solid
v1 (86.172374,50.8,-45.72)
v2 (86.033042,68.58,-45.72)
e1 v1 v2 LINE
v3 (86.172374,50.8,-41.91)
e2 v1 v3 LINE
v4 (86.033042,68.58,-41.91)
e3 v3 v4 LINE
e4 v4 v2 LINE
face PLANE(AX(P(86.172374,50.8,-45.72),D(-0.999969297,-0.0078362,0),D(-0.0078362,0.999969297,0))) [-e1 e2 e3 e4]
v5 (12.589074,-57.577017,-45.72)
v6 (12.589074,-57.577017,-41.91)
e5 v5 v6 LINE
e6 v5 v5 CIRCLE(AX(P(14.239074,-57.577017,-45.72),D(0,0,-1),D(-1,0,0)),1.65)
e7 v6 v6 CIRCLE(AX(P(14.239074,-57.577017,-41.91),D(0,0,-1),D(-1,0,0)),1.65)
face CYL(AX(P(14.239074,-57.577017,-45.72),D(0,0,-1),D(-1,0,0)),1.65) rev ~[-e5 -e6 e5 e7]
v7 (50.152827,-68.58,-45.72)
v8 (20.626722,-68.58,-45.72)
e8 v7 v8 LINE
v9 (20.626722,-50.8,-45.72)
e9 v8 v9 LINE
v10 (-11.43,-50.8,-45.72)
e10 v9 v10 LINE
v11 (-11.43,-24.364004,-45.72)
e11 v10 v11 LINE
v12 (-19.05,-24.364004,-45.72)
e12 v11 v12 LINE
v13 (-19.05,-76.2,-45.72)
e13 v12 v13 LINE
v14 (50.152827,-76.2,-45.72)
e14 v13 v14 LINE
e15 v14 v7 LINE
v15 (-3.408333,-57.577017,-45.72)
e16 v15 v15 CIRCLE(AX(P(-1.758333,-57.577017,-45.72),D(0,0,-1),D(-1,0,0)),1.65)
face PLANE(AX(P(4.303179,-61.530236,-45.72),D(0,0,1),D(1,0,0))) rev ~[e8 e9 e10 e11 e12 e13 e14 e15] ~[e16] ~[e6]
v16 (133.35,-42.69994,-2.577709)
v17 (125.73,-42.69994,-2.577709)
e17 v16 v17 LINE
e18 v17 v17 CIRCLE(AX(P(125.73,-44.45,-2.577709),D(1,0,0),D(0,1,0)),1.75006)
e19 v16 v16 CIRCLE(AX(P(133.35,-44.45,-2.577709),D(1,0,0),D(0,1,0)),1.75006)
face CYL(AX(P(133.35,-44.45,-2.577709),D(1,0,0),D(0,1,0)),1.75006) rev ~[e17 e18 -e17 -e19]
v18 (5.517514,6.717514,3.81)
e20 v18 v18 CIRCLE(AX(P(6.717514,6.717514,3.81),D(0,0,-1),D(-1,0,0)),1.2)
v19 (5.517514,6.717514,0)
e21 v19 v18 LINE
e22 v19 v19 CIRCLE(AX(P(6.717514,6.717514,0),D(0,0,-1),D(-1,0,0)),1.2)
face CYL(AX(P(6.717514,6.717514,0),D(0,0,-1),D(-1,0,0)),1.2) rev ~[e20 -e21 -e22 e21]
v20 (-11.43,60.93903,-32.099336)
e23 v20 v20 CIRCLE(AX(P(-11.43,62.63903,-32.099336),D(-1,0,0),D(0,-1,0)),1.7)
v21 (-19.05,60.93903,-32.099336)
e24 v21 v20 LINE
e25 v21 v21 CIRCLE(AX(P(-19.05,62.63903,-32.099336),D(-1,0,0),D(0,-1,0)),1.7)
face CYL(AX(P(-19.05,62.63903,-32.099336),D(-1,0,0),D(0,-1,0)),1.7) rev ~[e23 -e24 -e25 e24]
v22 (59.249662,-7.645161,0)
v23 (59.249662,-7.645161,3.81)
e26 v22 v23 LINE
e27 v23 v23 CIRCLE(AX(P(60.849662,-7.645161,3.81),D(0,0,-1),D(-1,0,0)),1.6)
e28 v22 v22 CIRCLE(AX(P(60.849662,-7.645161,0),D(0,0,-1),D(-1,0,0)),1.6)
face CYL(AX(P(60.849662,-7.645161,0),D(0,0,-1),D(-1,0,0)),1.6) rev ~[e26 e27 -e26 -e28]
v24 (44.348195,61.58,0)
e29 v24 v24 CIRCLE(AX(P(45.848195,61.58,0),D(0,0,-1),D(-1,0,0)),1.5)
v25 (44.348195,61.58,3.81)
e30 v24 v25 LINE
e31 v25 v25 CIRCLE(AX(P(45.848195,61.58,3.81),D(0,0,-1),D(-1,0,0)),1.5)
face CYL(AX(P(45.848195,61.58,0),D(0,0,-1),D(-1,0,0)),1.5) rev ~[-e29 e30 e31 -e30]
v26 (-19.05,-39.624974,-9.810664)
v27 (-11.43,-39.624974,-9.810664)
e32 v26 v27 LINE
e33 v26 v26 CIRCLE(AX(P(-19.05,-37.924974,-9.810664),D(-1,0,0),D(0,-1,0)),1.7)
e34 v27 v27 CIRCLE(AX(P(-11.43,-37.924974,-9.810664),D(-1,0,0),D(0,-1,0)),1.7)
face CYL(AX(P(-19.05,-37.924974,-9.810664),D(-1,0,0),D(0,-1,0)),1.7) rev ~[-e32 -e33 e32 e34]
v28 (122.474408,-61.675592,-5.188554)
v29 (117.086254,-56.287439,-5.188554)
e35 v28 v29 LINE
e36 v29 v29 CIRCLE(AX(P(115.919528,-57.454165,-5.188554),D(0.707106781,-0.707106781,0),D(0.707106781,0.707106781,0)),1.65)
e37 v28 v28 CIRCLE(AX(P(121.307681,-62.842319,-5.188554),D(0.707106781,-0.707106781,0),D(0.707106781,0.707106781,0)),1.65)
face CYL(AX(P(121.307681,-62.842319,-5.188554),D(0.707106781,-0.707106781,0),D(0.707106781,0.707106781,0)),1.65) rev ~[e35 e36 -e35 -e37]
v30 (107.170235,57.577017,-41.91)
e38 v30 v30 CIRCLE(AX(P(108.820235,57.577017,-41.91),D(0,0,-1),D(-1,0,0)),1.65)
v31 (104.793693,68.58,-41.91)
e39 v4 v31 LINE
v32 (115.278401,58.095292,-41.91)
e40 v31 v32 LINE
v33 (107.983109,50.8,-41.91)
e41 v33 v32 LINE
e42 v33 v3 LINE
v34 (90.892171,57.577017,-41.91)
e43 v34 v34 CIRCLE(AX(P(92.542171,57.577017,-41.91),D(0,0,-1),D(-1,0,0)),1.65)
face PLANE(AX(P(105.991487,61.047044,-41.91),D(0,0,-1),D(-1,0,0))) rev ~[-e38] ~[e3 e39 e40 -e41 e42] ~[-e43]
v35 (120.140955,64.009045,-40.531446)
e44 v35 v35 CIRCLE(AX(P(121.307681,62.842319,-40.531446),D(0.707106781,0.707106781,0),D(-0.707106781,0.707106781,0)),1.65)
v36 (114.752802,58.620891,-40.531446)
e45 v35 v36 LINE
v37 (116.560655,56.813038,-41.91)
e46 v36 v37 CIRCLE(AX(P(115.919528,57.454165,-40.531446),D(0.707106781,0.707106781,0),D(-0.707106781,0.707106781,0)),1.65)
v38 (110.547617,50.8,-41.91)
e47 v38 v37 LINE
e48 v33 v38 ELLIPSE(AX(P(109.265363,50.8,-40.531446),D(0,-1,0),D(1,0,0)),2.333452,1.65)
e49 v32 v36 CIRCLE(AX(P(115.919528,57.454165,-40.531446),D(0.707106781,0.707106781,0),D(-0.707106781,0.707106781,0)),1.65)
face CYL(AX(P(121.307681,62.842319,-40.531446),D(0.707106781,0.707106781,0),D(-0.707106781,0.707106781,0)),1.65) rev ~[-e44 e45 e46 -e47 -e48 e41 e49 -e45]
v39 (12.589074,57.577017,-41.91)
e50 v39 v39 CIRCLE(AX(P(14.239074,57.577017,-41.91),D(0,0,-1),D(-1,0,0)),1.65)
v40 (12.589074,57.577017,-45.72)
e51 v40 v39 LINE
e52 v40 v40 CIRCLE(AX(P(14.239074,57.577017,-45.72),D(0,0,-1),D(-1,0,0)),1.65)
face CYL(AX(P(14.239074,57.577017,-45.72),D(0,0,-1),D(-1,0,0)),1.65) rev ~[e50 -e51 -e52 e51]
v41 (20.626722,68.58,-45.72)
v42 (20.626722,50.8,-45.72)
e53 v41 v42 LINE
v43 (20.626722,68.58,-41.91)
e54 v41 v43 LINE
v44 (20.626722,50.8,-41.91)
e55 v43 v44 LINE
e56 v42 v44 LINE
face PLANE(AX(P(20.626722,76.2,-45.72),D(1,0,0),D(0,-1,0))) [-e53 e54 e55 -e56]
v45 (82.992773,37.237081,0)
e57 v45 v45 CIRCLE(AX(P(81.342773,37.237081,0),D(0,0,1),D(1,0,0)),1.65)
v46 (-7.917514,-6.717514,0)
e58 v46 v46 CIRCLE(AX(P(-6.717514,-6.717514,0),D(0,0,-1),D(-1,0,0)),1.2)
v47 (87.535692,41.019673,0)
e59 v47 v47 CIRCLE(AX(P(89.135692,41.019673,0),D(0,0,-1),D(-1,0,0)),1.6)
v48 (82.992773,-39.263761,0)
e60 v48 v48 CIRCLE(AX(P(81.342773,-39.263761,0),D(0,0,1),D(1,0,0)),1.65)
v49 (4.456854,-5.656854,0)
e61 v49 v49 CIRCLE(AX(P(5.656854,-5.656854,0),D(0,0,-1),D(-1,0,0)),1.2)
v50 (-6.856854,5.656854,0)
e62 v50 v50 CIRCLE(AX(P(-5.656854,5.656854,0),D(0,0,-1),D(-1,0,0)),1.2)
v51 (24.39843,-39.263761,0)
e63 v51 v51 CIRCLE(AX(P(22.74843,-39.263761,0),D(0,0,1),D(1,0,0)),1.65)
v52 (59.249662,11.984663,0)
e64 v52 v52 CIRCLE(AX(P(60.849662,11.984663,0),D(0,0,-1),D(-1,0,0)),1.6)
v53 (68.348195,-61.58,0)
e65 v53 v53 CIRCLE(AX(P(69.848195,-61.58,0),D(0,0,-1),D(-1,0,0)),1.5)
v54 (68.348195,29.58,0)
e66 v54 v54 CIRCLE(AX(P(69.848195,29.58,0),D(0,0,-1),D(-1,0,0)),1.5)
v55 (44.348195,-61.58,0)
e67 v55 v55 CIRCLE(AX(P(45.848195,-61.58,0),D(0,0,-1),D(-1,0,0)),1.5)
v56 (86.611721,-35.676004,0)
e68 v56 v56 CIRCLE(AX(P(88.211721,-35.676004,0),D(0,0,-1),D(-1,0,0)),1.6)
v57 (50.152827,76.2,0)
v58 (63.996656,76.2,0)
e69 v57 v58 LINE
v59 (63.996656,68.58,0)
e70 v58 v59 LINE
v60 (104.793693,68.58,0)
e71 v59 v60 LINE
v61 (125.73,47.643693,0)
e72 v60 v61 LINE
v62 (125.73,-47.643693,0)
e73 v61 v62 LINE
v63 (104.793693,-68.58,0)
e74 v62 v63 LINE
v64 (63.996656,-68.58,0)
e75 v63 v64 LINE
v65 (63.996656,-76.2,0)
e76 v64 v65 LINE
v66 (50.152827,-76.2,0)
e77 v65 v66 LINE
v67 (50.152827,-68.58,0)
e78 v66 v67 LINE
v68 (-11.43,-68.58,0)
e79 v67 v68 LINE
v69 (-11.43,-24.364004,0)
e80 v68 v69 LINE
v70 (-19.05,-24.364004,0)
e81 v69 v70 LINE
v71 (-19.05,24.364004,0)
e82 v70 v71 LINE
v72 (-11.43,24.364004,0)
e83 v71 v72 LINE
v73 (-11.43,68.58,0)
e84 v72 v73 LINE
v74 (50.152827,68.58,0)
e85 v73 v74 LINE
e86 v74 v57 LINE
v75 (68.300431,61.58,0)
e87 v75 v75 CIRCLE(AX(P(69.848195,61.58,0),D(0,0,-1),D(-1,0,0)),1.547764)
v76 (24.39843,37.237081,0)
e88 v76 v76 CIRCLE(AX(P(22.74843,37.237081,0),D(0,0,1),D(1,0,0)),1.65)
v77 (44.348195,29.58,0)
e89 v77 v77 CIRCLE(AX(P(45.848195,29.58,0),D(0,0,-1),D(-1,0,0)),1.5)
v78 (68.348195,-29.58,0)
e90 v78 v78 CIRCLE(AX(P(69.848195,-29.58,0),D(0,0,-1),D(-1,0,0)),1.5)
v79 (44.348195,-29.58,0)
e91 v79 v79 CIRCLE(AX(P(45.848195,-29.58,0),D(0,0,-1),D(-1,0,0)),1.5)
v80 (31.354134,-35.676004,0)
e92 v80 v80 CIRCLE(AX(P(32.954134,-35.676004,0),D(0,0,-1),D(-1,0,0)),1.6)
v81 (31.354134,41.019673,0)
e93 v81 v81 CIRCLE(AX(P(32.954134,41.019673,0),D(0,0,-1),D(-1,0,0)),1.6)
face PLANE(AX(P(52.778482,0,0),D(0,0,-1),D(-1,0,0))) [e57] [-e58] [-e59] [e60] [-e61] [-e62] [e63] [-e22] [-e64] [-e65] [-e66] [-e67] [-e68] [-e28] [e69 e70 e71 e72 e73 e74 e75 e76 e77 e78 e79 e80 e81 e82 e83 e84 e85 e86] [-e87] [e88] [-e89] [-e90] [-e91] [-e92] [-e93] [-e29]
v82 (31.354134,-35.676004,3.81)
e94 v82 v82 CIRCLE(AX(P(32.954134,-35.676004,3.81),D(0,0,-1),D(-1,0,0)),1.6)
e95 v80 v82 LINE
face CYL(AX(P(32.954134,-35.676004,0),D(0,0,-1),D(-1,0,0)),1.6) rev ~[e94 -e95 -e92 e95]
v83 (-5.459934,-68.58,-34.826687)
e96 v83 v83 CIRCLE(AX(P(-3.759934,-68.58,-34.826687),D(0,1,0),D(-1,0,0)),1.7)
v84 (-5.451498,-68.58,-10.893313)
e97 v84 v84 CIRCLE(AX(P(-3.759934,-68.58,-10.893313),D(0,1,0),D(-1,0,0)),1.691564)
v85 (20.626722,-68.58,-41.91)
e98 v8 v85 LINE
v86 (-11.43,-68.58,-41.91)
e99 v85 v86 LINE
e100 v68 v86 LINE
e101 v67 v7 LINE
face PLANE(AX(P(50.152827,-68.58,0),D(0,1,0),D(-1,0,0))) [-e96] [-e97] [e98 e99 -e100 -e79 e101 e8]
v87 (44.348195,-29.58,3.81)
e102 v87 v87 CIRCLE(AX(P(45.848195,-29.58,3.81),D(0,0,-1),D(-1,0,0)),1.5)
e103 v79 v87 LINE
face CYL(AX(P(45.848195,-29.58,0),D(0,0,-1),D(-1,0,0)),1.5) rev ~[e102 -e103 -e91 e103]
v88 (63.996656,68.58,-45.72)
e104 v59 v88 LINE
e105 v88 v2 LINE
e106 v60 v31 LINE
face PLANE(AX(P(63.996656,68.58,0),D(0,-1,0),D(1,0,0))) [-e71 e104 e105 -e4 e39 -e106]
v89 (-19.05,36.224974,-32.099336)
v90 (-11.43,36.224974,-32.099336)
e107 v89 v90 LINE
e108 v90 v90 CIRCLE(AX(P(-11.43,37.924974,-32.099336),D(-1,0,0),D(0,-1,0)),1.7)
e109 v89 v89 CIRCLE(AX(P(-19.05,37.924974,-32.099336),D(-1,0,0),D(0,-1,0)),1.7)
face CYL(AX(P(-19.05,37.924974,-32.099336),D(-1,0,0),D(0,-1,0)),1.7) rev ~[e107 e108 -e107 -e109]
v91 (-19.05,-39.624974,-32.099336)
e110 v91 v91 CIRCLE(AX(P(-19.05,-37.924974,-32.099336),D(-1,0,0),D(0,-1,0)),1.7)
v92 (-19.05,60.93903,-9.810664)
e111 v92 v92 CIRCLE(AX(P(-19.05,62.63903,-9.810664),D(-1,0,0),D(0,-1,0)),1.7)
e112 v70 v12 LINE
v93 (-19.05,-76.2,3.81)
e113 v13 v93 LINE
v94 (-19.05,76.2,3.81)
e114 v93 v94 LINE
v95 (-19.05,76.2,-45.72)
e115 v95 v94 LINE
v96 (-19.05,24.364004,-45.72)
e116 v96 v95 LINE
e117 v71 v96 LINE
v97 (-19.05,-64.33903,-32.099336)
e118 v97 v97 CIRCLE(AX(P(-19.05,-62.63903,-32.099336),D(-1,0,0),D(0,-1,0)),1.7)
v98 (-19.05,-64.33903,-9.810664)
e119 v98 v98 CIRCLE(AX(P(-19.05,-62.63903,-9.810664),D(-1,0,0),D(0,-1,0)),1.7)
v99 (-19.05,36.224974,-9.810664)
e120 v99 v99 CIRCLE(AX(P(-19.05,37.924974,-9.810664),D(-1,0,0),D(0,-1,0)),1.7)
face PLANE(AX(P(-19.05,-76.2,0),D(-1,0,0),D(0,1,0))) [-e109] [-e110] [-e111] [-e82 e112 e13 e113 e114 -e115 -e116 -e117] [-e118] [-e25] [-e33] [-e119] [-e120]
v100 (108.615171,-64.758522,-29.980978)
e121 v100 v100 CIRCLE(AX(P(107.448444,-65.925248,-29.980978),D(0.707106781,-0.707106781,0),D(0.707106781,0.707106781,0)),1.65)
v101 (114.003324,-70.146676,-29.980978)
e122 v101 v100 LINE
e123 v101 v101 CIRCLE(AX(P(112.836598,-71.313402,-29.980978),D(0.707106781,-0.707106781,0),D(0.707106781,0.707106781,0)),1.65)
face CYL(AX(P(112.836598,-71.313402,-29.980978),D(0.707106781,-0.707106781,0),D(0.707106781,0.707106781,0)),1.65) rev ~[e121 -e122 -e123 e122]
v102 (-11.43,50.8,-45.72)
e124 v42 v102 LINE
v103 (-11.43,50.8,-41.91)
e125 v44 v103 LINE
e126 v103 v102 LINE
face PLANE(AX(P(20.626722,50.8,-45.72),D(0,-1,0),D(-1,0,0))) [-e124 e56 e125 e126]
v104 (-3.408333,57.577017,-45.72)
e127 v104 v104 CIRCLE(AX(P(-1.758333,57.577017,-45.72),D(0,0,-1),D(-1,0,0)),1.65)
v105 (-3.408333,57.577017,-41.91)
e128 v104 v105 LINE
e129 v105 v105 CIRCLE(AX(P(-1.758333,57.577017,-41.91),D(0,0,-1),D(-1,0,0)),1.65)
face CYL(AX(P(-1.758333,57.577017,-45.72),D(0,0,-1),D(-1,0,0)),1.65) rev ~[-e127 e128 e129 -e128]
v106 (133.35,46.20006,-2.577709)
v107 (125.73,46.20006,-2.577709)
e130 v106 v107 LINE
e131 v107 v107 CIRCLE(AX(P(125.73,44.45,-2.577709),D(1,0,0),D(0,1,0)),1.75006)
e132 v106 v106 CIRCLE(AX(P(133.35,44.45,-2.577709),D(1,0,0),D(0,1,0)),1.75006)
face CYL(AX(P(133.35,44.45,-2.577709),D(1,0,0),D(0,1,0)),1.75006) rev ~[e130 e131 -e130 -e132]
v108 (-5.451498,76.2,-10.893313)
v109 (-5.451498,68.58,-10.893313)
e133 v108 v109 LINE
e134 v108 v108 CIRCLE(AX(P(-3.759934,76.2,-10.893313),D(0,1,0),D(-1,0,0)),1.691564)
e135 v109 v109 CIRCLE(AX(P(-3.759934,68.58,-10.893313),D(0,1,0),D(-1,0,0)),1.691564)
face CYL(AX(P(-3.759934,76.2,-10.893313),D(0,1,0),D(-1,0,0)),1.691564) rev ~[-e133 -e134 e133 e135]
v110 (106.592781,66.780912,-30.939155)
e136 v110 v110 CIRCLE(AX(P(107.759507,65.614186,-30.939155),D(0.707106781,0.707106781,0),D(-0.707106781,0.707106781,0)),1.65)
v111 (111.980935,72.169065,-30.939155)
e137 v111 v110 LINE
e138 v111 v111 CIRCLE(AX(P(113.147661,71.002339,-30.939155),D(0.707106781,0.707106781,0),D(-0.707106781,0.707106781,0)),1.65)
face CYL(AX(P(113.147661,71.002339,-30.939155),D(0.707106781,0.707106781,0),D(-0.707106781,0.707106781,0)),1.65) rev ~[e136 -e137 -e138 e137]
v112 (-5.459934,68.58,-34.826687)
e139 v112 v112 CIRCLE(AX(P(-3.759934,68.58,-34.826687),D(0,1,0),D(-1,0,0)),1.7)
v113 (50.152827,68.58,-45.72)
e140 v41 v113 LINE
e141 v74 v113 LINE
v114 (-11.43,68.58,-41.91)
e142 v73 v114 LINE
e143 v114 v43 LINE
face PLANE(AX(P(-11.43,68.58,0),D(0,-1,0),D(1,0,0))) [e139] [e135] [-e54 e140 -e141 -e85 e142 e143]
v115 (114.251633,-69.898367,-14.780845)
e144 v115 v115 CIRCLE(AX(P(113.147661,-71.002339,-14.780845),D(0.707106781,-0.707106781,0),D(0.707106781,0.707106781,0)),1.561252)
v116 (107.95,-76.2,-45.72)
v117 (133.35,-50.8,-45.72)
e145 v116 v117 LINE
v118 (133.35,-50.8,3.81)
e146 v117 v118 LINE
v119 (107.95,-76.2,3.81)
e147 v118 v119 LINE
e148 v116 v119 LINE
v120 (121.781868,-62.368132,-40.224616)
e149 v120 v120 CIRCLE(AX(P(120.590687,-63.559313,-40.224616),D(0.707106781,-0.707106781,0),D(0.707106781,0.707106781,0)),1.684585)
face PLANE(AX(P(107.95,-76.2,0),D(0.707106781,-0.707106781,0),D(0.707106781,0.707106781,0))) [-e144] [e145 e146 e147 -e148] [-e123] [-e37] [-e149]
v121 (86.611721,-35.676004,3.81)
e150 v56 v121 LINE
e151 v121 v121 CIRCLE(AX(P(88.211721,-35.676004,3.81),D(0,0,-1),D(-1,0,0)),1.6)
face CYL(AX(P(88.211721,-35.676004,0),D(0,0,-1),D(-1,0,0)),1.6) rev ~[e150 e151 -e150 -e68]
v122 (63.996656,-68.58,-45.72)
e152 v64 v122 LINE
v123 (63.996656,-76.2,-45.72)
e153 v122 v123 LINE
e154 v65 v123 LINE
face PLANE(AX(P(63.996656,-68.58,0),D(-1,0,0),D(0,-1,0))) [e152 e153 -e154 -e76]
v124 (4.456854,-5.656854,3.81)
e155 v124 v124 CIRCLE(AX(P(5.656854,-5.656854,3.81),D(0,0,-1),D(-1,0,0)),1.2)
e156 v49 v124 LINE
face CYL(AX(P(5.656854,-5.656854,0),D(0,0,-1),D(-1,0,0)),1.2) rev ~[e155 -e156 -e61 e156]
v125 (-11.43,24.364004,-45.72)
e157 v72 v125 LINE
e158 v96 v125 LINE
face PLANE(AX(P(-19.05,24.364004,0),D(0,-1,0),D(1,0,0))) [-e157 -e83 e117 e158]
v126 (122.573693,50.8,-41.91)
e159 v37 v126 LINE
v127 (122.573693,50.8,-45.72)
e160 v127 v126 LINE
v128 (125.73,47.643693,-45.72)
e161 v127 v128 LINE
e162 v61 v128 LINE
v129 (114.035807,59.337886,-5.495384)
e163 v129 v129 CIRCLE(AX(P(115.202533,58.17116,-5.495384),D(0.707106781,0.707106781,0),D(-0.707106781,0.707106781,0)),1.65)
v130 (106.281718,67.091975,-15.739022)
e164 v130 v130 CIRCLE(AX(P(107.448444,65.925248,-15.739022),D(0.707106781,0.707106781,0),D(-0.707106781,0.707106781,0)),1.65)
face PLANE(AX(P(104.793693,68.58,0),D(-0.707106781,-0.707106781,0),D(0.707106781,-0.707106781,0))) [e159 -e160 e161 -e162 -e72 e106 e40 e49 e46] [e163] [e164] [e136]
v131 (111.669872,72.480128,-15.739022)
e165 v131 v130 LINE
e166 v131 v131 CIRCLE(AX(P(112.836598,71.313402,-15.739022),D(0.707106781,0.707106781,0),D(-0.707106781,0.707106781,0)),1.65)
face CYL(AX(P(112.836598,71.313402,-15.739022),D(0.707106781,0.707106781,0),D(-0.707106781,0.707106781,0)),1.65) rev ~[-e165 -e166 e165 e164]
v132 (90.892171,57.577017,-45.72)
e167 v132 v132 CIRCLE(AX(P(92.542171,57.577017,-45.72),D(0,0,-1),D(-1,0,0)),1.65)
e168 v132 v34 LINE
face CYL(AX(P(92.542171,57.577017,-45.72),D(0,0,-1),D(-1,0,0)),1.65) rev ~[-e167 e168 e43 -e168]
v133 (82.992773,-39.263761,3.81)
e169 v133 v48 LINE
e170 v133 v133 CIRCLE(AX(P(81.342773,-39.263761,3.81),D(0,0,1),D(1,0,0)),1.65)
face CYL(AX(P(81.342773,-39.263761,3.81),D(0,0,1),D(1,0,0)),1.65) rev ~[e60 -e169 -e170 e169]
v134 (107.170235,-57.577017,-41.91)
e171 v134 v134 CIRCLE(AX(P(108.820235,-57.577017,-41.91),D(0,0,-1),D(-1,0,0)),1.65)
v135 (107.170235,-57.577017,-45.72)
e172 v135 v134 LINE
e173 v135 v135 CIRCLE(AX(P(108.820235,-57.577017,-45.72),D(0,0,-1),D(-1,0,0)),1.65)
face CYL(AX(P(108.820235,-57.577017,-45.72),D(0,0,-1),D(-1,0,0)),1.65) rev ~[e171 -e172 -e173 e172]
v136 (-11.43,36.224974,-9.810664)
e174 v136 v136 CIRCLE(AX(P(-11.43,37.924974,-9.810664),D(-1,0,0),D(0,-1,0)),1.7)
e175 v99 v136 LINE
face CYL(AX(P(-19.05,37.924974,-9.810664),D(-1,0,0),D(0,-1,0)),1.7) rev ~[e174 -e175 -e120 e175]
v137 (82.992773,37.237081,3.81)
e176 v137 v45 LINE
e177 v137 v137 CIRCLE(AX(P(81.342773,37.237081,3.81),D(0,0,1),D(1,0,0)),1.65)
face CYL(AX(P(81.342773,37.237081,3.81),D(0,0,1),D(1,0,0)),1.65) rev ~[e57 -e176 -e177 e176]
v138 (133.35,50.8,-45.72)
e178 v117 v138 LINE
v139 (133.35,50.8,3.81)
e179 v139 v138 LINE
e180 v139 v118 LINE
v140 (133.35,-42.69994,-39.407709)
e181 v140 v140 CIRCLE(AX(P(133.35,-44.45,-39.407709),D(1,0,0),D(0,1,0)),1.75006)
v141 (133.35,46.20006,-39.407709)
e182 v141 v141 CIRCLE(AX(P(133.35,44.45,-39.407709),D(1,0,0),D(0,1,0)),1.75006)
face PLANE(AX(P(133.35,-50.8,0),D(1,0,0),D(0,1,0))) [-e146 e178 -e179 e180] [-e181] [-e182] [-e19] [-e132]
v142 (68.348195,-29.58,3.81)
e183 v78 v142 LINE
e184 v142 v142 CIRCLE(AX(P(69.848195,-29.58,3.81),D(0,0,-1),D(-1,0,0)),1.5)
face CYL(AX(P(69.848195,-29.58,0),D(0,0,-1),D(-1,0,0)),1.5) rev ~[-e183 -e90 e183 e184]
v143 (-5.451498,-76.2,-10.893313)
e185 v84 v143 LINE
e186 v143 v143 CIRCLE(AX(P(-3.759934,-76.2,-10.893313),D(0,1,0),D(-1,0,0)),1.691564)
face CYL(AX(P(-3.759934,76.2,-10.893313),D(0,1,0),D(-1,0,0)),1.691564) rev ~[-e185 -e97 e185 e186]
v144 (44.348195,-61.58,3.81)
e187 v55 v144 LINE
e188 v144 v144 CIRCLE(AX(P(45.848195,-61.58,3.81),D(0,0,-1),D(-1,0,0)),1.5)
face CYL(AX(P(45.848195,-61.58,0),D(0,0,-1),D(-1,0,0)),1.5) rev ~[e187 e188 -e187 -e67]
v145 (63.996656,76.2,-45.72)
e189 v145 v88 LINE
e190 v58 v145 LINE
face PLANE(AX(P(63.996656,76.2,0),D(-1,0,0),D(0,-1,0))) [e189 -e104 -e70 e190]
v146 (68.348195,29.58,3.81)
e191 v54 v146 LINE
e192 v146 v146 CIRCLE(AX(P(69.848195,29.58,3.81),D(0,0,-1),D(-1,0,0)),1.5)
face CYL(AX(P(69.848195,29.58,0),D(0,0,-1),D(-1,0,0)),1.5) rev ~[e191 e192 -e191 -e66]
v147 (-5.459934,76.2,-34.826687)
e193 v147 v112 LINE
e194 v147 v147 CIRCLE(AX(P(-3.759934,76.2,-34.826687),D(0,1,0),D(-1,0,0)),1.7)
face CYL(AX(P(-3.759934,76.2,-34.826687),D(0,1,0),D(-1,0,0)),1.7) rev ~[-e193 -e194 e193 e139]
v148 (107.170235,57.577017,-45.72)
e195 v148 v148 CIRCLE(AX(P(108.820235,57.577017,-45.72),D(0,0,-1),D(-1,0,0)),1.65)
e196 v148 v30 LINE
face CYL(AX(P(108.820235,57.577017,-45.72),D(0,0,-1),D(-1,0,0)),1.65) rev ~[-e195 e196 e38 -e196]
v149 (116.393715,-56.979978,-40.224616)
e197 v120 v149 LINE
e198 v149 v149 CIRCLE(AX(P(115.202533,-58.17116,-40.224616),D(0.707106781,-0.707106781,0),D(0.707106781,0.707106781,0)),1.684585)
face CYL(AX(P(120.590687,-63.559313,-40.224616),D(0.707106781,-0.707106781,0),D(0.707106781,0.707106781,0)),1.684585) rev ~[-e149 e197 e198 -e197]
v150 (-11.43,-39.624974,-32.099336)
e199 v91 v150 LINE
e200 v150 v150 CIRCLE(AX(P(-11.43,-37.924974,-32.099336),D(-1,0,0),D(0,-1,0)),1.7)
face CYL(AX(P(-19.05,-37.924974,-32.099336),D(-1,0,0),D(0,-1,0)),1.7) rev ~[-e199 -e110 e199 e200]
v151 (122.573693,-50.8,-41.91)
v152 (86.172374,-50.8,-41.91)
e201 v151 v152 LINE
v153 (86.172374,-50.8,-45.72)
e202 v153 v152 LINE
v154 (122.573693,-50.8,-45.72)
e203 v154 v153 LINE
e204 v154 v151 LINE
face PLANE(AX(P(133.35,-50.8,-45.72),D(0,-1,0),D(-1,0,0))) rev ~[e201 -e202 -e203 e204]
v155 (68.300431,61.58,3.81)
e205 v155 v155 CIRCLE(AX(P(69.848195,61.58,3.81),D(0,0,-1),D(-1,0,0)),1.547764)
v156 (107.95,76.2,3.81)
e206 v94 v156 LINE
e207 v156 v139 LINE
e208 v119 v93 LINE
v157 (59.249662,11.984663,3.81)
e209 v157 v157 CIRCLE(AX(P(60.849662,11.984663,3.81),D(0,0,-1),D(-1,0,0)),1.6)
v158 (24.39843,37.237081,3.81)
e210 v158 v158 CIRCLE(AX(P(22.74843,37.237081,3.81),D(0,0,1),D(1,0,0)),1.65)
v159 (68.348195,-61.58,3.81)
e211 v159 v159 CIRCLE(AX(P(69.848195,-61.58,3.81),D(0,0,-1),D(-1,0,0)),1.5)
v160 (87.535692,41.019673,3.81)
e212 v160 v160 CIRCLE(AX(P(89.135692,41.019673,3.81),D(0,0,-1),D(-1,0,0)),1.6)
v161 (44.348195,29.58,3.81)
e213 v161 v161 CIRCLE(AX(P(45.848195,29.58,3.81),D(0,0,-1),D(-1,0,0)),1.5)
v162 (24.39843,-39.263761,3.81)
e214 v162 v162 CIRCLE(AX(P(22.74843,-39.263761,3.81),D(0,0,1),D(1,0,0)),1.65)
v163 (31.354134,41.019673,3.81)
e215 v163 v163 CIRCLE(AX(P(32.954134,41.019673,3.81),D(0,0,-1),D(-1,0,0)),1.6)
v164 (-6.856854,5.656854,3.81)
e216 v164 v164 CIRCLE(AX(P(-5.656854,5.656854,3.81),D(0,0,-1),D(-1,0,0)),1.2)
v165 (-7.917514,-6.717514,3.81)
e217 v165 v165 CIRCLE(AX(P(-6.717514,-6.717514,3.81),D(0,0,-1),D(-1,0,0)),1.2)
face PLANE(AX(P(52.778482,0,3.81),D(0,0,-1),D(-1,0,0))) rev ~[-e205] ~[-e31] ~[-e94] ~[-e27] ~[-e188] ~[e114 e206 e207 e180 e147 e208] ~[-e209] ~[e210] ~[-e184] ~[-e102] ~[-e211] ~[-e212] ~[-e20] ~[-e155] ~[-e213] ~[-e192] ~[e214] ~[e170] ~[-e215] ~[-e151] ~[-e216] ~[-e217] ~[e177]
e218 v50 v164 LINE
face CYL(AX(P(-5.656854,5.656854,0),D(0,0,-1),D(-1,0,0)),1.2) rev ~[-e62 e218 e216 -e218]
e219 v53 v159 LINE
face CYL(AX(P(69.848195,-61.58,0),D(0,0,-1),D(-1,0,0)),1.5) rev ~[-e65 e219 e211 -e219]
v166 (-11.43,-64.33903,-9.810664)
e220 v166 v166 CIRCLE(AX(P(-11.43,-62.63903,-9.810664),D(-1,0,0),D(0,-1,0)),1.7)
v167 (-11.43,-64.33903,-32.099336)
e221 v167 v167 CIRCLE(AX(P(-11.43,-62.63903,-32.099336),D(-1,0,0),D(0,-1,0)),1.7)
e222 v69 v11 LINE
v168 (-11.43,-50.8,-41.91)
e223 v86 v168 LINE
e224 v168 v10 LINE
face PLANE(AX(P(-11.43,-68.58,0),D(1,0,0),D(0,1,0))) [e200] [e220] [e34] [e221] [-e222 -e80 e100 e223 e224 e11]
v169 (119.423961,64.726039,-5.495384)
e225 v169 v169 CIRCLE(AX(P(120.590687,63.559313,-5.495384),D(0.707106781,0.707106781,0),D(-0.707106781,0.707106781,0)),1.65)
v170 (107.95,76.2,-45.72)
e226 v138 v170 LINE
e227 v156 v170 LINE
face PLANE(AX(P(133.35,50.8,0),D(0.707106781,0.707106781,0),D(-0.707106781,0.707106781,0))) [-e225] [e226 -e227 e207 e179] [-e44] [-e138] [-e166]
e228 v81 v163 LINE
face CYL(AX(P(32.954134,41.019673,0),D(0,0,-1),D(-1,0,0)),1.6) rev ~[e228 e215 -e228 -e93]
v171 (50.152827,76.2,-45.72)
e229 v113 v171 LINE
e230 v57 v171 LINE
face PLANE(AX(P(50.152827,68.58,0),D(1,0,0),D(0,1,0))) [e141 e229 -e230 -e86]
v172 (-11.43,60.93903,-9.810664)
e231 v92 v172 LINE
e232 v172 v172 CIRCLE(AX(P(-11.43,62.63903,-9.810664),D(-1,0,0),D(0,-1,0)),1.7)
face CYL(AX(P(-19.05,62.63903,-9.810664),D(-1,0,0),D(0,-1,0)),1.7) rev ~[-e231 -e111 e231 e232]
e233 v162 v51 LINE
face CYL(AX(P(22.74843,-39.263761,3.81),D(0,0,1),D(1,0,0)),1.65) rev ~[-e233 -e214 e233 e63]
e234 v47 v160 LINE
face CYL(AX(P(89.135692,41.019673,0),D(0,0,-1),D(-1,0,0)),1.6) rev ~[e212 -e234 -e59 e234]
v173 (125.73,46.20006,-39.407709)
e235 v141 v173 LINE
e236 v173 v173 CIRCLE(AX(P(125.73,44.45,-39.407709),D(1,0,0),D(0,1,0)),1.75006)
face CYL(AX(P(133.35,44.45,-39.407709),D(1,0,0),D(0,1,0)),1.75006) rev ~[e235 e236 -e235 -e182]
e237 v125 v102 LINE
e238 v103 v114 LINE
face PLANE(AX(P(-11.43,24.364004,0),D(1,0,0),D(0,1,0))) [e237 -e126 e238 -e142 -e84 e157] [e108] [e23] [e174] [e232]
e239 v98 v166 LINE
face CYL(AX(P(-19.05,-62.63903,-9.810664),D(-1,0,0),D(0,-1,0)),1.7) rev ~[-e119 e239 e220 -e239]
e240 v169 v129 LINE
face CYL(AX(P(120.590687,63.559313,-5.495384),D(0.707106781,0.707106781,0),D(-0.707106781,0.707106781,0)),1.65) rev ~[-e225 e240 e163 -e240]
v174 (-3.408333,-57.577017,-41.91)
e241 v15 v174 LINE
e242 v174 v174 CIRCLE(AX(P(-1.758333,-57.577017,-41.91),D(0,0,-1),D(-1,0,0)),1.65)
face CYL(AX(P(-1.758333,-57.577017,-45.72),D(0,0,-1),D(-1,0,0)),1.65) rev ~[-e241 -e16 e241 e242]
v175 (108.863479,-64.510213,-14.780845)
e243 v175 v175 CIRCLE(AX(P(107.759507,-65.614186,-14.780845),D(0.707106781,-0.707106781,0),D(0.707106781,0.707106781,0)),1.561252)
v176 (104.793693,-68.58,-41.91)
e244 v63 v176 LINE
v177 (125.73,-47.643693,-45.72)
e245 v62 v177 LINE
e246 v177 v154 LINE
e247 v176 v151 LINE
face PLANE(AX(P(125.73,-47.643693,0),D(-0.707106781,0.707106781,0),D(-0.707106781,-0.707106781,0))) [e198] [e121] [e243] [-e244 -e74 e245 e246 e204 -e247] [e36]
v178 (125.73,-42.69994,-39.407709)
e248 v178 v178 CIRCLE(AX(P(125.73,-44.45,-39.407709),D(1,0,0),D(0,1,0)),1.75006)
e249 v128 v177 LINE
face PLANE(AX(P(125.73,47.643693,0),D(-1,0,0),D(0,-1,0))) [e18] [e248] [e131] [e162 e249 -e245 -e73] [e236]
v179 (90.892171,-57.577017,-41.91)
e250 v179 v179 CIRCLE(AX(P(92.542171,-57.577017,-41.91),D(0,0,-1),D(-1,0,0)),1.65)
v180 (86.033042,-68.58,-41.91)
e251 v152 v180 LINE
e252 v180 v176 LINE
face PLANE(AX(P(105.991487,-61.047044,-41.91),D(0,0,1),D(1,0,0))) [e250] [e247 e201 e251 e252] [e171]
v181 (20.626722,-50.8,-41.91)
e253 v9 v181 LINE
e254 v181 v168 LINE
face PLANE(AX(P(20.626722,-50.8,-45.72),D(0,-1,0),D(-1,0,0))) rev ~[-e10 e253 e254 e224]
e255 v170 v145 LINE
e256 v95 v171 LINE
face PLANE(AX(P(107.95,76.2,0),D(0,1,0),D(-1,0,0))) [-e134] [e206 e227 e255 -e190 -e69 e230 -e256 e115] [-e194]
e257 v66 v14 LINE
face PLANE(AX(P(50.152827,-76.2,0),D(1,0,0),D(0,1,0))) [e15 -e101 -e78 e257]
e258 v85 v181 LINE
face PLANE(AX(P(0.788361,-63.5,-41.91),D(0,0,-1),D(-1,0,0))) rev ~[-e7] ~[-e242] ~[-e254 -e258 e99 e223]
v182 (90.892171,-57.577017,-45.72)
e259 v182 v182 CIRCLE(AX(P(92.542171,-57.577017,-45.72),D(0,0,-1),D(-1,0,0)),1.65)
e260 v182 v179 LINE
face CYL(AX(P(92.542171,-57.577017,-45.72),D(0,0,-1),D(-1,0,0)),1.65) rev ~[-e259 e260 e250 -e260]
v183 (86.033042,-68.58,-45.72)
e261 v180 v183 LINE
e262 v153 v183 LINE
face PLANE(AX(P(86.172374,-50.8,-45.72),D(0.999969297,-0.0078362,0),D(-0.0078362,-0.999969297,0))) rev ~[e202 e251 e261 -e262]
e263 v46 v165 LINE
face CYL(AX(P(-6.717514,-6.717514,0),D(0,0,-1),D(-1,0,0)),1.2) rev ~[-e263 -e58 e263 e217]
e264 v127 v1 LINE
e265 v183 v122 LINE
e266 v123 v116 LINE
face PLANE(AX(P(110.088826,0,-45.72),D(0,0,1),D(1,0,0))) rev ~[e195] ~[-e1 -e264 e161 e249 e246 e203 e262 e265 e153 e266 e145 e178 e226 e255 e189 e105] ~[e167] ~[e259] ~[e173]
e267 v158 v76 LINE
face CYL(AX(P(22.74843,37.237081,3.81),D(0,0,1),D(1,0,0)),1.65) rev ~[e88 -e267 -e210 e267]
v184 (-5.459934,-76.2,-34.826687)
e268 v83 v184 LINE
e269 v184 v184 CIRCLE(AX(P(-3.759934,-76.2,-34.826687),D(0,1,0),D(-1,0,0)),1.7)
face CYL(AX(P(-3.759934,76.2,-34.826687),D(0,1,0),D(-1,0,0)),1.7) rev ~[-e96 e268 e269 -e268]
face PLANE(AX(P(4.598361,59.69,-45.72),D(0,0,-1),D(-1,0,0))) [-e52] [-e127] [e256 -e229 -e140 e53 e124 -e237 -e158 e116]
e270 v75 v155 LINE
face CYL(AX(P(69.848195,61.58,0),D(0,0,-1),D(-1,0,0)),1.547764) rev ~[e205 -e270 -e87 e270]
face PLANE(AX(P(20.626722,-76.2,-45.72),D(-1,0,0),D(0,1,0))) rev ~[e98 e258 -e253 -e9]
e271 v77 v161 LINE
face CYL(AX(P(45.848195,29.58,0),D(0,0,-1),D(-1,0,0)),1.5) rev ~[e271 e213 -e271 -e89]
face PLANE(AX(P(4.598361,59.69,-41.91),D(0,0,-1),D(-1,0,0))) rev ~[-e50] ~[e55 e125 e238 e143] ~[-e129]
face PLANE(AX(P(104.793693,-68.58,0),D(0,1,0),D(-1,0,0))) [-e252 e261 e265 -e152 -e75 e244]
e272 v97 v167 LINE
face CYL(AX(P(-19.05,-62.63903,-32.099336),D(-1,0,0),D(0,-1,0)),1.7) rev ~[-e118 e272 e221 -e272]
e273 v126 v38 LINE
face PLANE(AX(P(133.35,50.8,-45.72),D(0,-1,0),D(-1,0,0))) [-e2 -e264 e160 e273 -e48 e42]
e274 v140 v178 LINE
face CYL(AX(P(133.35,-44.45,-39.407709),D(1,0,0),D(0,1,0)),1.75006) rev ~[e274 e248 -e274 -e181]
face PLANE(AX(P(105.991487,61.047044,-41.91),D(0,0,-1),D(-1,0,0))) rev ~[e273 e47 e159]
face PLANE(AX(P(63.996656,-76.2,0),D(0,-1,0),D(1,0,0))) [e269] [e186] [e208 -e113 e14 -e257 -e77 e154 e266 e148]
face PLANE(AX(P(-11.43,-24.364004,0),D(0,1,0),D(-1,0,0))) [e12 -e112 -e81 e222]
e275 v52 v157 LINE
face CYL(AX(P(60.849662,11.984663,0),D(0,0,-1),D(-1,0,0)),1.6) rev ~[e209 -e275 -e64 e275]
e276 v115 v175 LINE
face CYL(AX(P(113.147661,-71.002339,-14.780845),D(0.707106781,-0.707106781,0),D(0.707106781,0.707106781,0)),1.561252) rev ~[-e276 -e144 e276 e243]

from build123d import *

# Parameters (mm, degrees)
BOSS_EXTRUDE1_DEPTH = 3.81
BOSS_EXTRUDE2_DEPTH = 45.72
SKETCH7_R           = 1.2
CUT_EXTRUDE2_DEPTH  = 17.78
SKETCH8_W           = 32.05672174
SKETCH8_H           = 17.78
SKETCH8_W_2         = 39.67672174
SKETCH8_H_2         = 25.4
BOSS_EXTRUDE3_DEPTH = 3.81
SKETCH9_R           = 1.65
CUT_EXTRUDE3_DEPTH  = 3.81
SKETCH10_R          = 1.547764227
SKETCH10_R_2        = 1.5
CUT_EXTRUDE4_DEPTH  = 7.62
CUT_EXTRUDE5_REACH  = 178.416
SKETCH11_R          = 1.7
SKETCH12_R          = 1.699999995
SKETCH12_R_2        = 1.691563864
CUT_EXTRUDE6_DEPTH  = 208.601302742
CUT_EXTRUDE7_REACH  = 208.774
SKETCH13_R          = 1.650000001
CUT_EXTRUDE8_REACH  = 208.774
SKETCH14_R          = 1.684585229
SKETCH14_R_2        = 1.65
SKETCH14_R_3        = 1.561252311
CUT_EXTRUDE9_REACH  = 163.375
SKETCH15_R          = 1.65
CUT_EXTRUDE10_REACH = 178.416
SKETCH16_R          = 1.75006
SKETCH16_R_2        = 1.750059992
CUT_EXTRUDE11_REACH = 162.247
SKETCH17_R          = 1.6
SKETCH17_R_2        = 1.599999975


with BuildPart() as part:
    # Sketch1 → Boss-Extrude1 (new body)
    with BuildSketch(Plane.XY):
        Polygon((133.35, -50.8), (107.95, -76.2), (-19.05, -76.2), (-19.05, 76.2), (107.95, 76.2), (133.35, 50.8), align=None)
    extrude(amount=BOSS_EXTRUDE1_DEPTH)

    # Sketch2 → Boss-Extrude2 (add)
    with BuildSketch(Plane(origin=(0, 0, 0), x_dir=(-1, 0, 0), z_dir=(0, 0, -1))):
        Polygon((-107.95, -76.2), (-133.35, -50.8), (-133.35, 50.8), (-107.95, 76.2), (-63.99665634, 76.2), (-63.99665634, 68.58), (-104.793692655, 68.58), (-125.73, 47.643692655), (-125.73, -47.643692655), (-104.793692655, -68.58), (-63.99665634, -68.58), (-63.99665634, -76.2), align=None)
        Polygon((19.05, 76.2), (19.05, 24.36400377), (11.43, 24.36400377), (11.43, 68.58), (-50.152826914, 68.58), (-50.152826914, 76.2), align=None)
        Polygon((19.05, -76.2), (-50.152826914, -76.2), (-50.152826914, -68.58), (11.43, -68.58), (11.43, -24.36400377), (19.05, -24.36400377), align=None)
    extrude(amount=BOSS_EXTRUDE2_DEPTH)

    # Sketch7 → Cut-Extrude2 (cut)
    with BuildSketch(Plane(origin=(0, 0, 0), x_dir=(-1, 0, 0), z_dir=(0, 0, -1))):
        with Locations((-6.717514421, 6.717514421)):
            Circle(SKETCH7_R)
        with Locations((5.65685425, 5.65685425)):
            Circle(SKETCH7_R)
        with Locations((-5.656854249, -5.656854249)):
            Circle(SKETCH7_R)
        with Locations((6.717514421, -6.717514421)):
            Circle(SKETCH7_R)
    extrude(amount=-CUT_EXTRUDE2_DEPTH, mode=Mode.SUBTRACT)

    # Sketch8 → Boss-Extrude3 (add)
    with BuildSketch(Plane(origin=(0, 0, -45.72), x_dir=(-1, 0, 0), z_dir=(0, 0, -1))):
        with Locations((-4.59836087, 59.69)):
            Rectangle(SKETCH8_W, SKETCH8_H)
        Polygon((-86.172373763, 50.8), (-85.97332817, 76.2), (-107.95, 76.2), (-133.35, 50.8), align=None)
        Polygon((-107.95, -76.2), (-133.35, -50.8), (-86.172373763, -50.8), (-85.97332817, -76.2), align=None)
        with Locations((-0.78836087, -63.5)):
            Rectangle(SKETCH8_W_2, SKETCH8_H_2)
        Polygon((19.05, 50.8), (19.05, 76.2), (-20.62672174, 76.2), (-20.62672174, 68.58), (11.43, 68.58), (11.43, 50.8), align=None)
    extrude(amount=-BOSS_EXTRUDE3_DEPTH)

    # Sketch9 → Cut-Extrude3 (cut)
    with BuildSketch(Plane(origin=(0, 0, -45.72), x_dir=(-1, 0, 0), z_dir=(0, 0, -1))):
        with Locations((-92.542171462, 57.577017073)):
            Circle(SKETCH9_R)
        with Locations((-108.82023471, 57.577017073)):
            Circle(SKETCH9_R)
        with Locations((-14.239074115, 57.577017073)):
            Circle(SKETCH9_R)
        with Locations((1.75833287, 57.577017073)):
            Circle(SKETCH9_R)
        with Locations((1.75833287, -57.577017073)):
            Circle(SKETCH9_R)
        with Locations((-14.239074115, -57.577017073)):
            Circle(SKETCH9_R)
        with Locations((-92.542171462, -57.577017073)):
            Circle(SKETCH9_R)
        with Locations((-108.82023471, -57.577017073)):
            Circle(SKETCH9_R)
    extrude(amount=-CUT_EXTRUDE3_DEPTH, mode=Mode.SUBTRACT)

    # Sketch10 → Cut-Extrude4 (cut)
    with BuildSketch(Plane(origin=(0, 0, 0), x_dir=(-1, 0, 0), z_dir=(0, 0, -1))):
        with Locations((-69.848195186, 61.58)):
            Circle(SKETCH10_R)
        with Locations((-45.848195186, 61.58)):
            Circle(SKETCH10_R_2)
        with Locations((-45.848195186, 29.58)):
            Circle(SKETCH10_R_2)
        with Locations((-69.848195186, 29.58)):
            Circle(SKETCH10_R_2)
        with Locations((-69.848195186, -29.58)):
            Circle(SKETCH10_R_2)
        with Locations((-45.848195186, -29.58)):
            Circle(SKETCH10_R_2)
        with Locations((-69.848195186, -61.58)):
            Circle(SKETCH10_R_2)
        with Locations((-45.848195186, -61.58)):
            Circle(SKETCH10_R_2)
    extrude(amount=-CUT_EXTRUDE4_DEPTH, mode=Mode.SUBTRACT)

    # Sketch11 → Cut-Extrude5 (cut, up to next)
    with BuildSketch(Plane.ZY.offset(19.05), mode=Mode.PRIVATE) as cut_extrude5_sk1:
        with Locations(Location((-32.099336029, -62.639029713, 0), (0, 0, 270))):
            Circle(SKETCH11_R)
    cut_extrude5_tool1 = extrude(cut_extrude5_sk1.sketch, amount=-CUT_EXTRUDE5_REACH, mode=Mode.PRIVATE) & part.part
    # Sketch11 → Cut-Extrude5 (cut, up to next)
    with BuildSketch(Plane.ZY.offset(19.05), mode=Mode.PRIVATE) as cut_extrude5_sk2:
        with Locations(Location((-9.810663971, -62.639029713, 0), (0, 0, 270))):
            Circle(SKETCH11_R)
    cut_extrude5_tool2 = extrude(cut_extrude5_sk2.sketch, amount=-CUT_EXTRUDE5_REACH, mode=Mode.PRIVATE) & part.part
    # Sketch11 → Cut-Extrude5 (cut, up to next)
    with BuildSketch(Plane.ZY.offset(19.05), mode=Mode.PRIVATE) as cut_extrude5_sk3:
        with Locations(Location((-9.810663971, -37.924974057, 0), (0, 0, 270))):
            Circle(SKETCH11_R)
    cut_extrude5_tool3 = extrude(cut_extrude5_sk3.sketch, amount=-CUT_EXTRUDE5_REACH, mode=Mode.PRIVATE) & part.part
    # Sketch11 → Cut-Extrude5 (cut, up to next)
    with BuildSketch(Plane.ZY.offset(19.05), mode=Mode.PRIVATE) as cut_extrude5_sk4:
        with Locations(Location((-32.099336029, -37.924974057, 0), (0, 0, 270))):
            Circle(SKETCH11_R)
    cut_extrude5_tool4 = extrude(cut_extrude5_sk4.sketch, amount=-CUT_EXTRUDE5_REACH, mode=Mode.PRIVATE) & part.part
    # Sketch11 → Cut-Extrude5 (cut, up to next)
    with BuildSketch(Plane.ZY.offset(19.05), mode=Mode.PRIVATE) as cut_extrude5_sk5:
        with Locations(Location((-9.810663971, 37.924974057, 0), (0, 0, 270))):
            Circle(SKETCH11_R)
    cut_extrude5_tool5 = extrude(cut_extrude5_sk5.sketch, amount=-CUT_EXTRUDE5_REACH, mode=Mode.PRIVATE) & part.part
    # Sketch11 → Cut-Extrude5 (cut, up to next)
    with BuildSketch(Plane.ZY.offset(19.05), mode=Mode.PRIVATE) as cut_extrude5_sk6:
        with Locations(Location((-9.810663971, 62.639029713, 0), (0, 0, 270))):
            Circle(SKETCH11_R)
    cut_extrude5_tool6 = extrude(cut_extrude5_sk6.sketch, amount=-CUT_EXTRUDE5_REACH, mode=Mode.PRIVATE) & part.part
    # Sketch11 → Cut-Extrude5 (cut, up to next)
    with BuildSketch(Plane.ZY.offset(19.05), mode=Mode.PRIVATE) as cut_extrude5_sk7:
        with Locations(Location((-32.099336029, 37.924974057, 0), (0, 0, 270))):
            Circle(SKETCH11_R)
    cut_extrude5_tool7 = extrude(cut_extrude5_sk7.sketch, amount=-CUT_EXTRUDE5_REACH, mode=Mode.PRIVATE) & part.part
    # Sketch11 → Cut-Extrude5 (cut, up to next)
    with BuildSketch(Plane.ZY.offset(19.05), mode=Mode.PRIVATE) as cut_extrude5_sk8:
        with Locations(Location((-32.099336029, 62.639029713, 0), (0, 0, 270))):
            Circle(SKETCH11_R)
    cut_extrude5_tool8 = extrude(cut_extrude5_sk8.sketch, amount=-CUT_EXTRUDE5_REACH, mode=Mode.PRIVATE) & part.part
    add(cut_extrude5_tool1.solids().sort_by_distance((-19.05, -62.63903, -32.099336))[0], mode=Mode.SUBTRACT)
    add(cut_extrude5_tool2.solids().sort_by_distance((-19.05, -62.63903, -9.810664))[0], mode=Mode.SUBTRACT)
    add(cut_extrude5_tool3.solids().sort_by_distance((-19.05, -37.924974, -9.810664))[0], mode=Mode.SUBTRACT)
    add(cut_extrude5_tool4.solids().sort_by_distance((-19.05, -37.924974, -32.099336))[0], mode=Mode.SUBTRACT)
    add(cut_extrude5_tool5.solids().sort_by_distance((-19.05, 37.924974, -9.810664))[0], mode=Mode.SUBTRACT)
    add(cut_extrude5_tool6.solids().sort_by_distance((-19.05, 62.63903, -9.810664))[0], mode=Mode.SUBTRACT)
    add(cut_extrude5_tool7.solids().sort_by_distance((-19.05, 37.924974, -32.099336))[0], mode=Mode.SUBTRACT)
    add(cut_extrude5_tool8.solids().sort_by_distance((-19.05, 62.63903, -32.099336))[0], mode=Mode.SUBTRACT)

    # Sketch12 → Cut-Extrude6 (cut, through all)
    with BuildSketch(Plane(origin=(0, 76.2, 0), x_dir=(1, 0, 0), z_dir=(0, 1, 0))):
        with Locations(Location((-3.759933997, 34.826686814, 0), (0, 0, 180))):
            Circle(SKETCH12_R)
        with Locations(Location((-3.759933997, 10.893313186, 0), (0, 0, 180))):
            Circle(SKETCH12_R_2)
    extrude(amount=-CUT_EXTRUDE6_DEPTH, mode=Mode.SUBTRACT)

    # Sketch13 → Cut-Extrude7 (cut, up to next)
    with BuildSketch(Plane(origin=(92.075, 92.075, 0), x_dir=(0, 0, -1), z_dir=(0.7071067811865476, 0.7071067811865476, 0)), mode=Mode.PRIVATE) as cut_extrude7_sk1:
        with Locations(Location((30.939154806, -29.801242629, 0), (0, 0, 90))):
            Circle(SKETCH13_R)
    cut_extrude7_tool1 = extrude(cut_extrude7_sk1.sketch, amount=-CUT_EXTRUDE7_REACH, mode=Mode.PRIVATE) & part.part
    # Sketch13 → Cut-Extrude7 (cut, up to next)
    with BuildSketch(Plane(origin=(92.075, 92.075, 0), x_dir=(0, 0, -1), z_dir=(0.7071067811865476, 0.7071067811865476, 0)), mode=Mode.PRIVATE) as cut_extrude7_sk2:
        with Locations(Location((40.531445637, -41.34125457, 0), (0, 0, 90))):
            Circle(SKETCH13_R)
    cut_extrude7_tool2 = extrude(cut_extrude7_sk2.sketch, amount=-CUT_EXTRUDE7_REACH, mode=Mode.PRIVATE) & part.part
    # Sketch13 → Cut-Extrude7 (cut, up to next)
    with BuildSketch(Plane(origin=(92.075, 92.075, 0), x_dir=(0, 0, -1), z_dir=(0.7071067811865476, 0.7071067811865476, 0)), mode=Mode.PRIVATE) as cut_extrude7_sk3:
        with Locations(Location((5.495383695, -40.327271008, 0), (0, 0, 90))):
            Circle(SKETCH13_R)
    cut_extrude7_tool3 = extrude(cut_extrude7_sk3.sketch, amount=-CUT_EXTRUDE7_REACH, mode=Mode.PRIVATE) & part.part
    # Sketch13 → Cut-Extrude7 (cut, up to next)
    with BuildSketch(Plane(origin=(92.075, 92.075, 0), x_dir=(0, 0, -1), z_dir=(0.7071067811865476, 0.7071067811865476, 0)), mode=Mode.PRIVATE) as cut_extrude7_sk4:
        with Locations(Location((15.739022353, -29.361333473, 0), (0, 0, 90))):
            Circle(SKETCH13_R)
    cut_extrude7_tool4 = extrude(cut_extrude7_sk4.sketch, amount=-CUT_EXTRUDE7_REACH, mode=Mode.PRIVATE) & part.part
    add(cut_extrude7_tool1.solids().sort_by_distance((113.147661, 71.002339, -30.939155))[0], mode=Mode.SUBTRACT)
    add(cut_extrude7_tool2.solids().sort_by_distance((121.307681, 62.842319, -40.531446))[0], mode=Mode.SUBTRACT)
    add(cut_extrude7_tool3.solids().sort_by_distance((120.590687, 63.559313, -5.495384))[0], mode=Mode.SUBTRACT)
    add(cut_extrude7_tool4.solids().sort_by_distance((112.836598, 71.313402, -15.739022))[0], mode=Mode.SUBTRACT)

    # Sketch14 → Cut-Extrude8 (cut, up to next)
    with BuildSketch(Plane(origin=(92.075, -92.075, 0), x_dir=(0, 0, -1), z_dir=(0.7071067811865468, -0.7071067811865482, 0)), mode=Mode.PRIVATE) as cut_extrude8_sk1:
        with Locations(Location((40.224616305, 40.327271004, 0), (0, 0, 90))):
            Circle(SKETCH14_R)
    cut_extrude8_tool1 = extrude(cut_extrude8_sk1.sketch, amount=-CUT_EXTRUDE8_REACH, mode=Mode.PRIVATE) & part.part
    # Sketch14 → Cut-Extrude8 (cut, up to next)
    with BuildSketch(Plane(origin=(92.075, -92.075, 0), x_dir=(0, 0, -1), z_dir=(0.7071067811865468, -0.7071067811865482, 0)), mode=Mode.PRIVATE) as cut_extrude8_sk2:
        with Locations(Location((29.980977647, 29.361333469, 0), (0, 0, 90))):
            Circle(SKETCH14_R_2)
    cut_extrude8_tool2 = extrude(cut_extrude8_sk2.sketch, amount=-CUT_EXTRUDE8_REACH, mode=Mode.PRIVATE) & part.part
    # Sketch14 → Cut-Extrude8 (cut, up to next)
    with BuildSketch(Plane(origin=(92.075, -92.075, 0), x_dir=(0, 0, -1), z_dir=(0.7071067811865468, -0.7071067811865482, 0)), mode=Mode.PRIVATE) as cut_extrude8_sk3:
        with Locations(Location((14.780845194, 29.801242626, 0), (0, 0, 90))):
            Circle(SKETCH14_R_3)
    cut_extrude8_tool3 = extrude(cut_extrude8_sk3.sketch, amount=-CUT_EXTRUDE8_REACH, mode=Mode.PRIVATE) & part.part
    # Sketch14 → Cut-Extrude8 (cut, up to next)
    with BuildSketch(Plane(origin=(92.075, -92.075, 0), x_dir=(0, 0, -1), z_dir=(0.7071067811865468, -0.7071067811865482, 0)), mode=Mode.PRIVATE) as cut_extrude8_sk4:
        with Locations(Location((5.188554363, 41.341254567, 0), (0, 0, 90))):
            Circle(SKETCH14_R_2)
    cut_extrude8_tool4 = extrude(cut_extrude8_sk4.sketch, amount=-CUT_EXTRUDE8_REACH, mode=Mode.PRIVATE) & part.part
    add(cut_extrude8_tool1.solids().sort_by_distance((120.590687, -63.559313, -40.224616))[0], mode=Mode.SUBTRACT)
    add(cut_extrude8_tool2.solids().sort_by_distance((112.836598, -71.313402, -29.980978))[0], mode=Mode.SUBTRACT)
    add(cut_extrude8_tool3.solids().sort_by_distance((113.147661, -71.002339, -14.780845))[0], mode=Mode.SUBTRACT)
    add(cut_extrude8_tool4.solids().sort_by_distance((121.307681, -62.842319, -5.188554))[0], mode=Mode.SUBTRACT)

    # Sketch15 → Cut-Extrude9 (cut, up to next)
    with BuildSketch(Plane.XY.offset(3.81), mode=Mode.PRIVATE) as cut_extrude9_sk1:
        with Locations((81.342772659, -39.263761481)):
            Circle(SKETCH15_R)
    cut_extrude9_tool1 = extrude(cut_extrude9_sk1.sketch, amount=-CUT_EXTRUDE9_REACH, mode=Mode.PRIVATE) & part.part
    # Sketch15 → Cut-Extrude9 (cut, up to next)
    with BuildSketch(Plane.XY.offset(3.81), mode=Mode.PRIVATE) as cut_extrude9_sk2:
        with Locations((22.748429848, -39.263761481)):
            Circle(SKETCH15_R)
    cut_extrude9_tool2 = extrude(cut_extrude9_sk2.sketch, amount=-CUT_EXTRUDE9_REACH, mode=Mode.PRIVATE) & part.part
    # Sketch15 → Cut-Extrude9 (cut, up to next)
    with BuildSketch(Plane.XY.offset(3.81), mode=Mode.PRIVATE) as cut_extrude9_sk3:
        with Locations((81.342772659, 37.237081194)):
            Circle(SKETCH15_R)
    cut_extrude9_tool3 = extrude(cut_extrude9_sk3.sketch, amount=-CUT_EXTRUDE9_REACH, mode=Mode.PRIVATE) & part.part
    # Sketch15 → Cut-Extrude9 (cut, up to next)
    with BuildSketch(Plane.XY.offset(3.81), mode=Mode.PRIVATE) as cut_extrude9_sk4:
        with Locations((22.748429848, 37.237081194)):
            Circle(SKETCH15_R)
    cut_extrude9_tool4 = extrude(cut_extrude9_sk4.sketch, amount=-CUT_EXTRUDE9_REACH, mode=Mode.PRIVATE) & part.part
    add(cut_extrude9_tool1.solids().sort_by_distance((81.342773, -39.263761, 3.81))[0], mode=Mode.SUBTRACT)
    add(cut_extrude9_tool2.solids().sort_by_distance((22.74843, -39.263761, 3.81))[0], mode=Mode.SUBTRACT)
    add(cut_extrude9_tool3.solids().sort_by_distance((81.342773, 37.237081, 3.81))[0], mode=Mode.SUBTRACT)
    add(cut_extrude9_tool4.solids().sort_by_distance((22.74843, 37.237081, 3.81))[0], mode=Mode.SUBTRACT)

    # Sketch16 → Cut-Extrude10 (cut, up to next)
    with BuildSketch(Plane(origin=(133.35, 0, 0), x_dir=(0, 0, -1), z_dir=(1, 0, 0)), mode=Mode.PRIVATE) as cut_extrude10_sk1:
        with Locations(Location((39.407709478, 44.45, 0), (0, 0, 90))):
            Circle(SKETCH16_R)
    cut_extrude10_tool1 = extrude(cut_extrude10_sk1.sketch, amount=-CUT_EXTRUDE10_REACH, mode=Mode.PRIVATE) & part.part
    # Sketch16 → Cut-Extrude10 (cut, up to next)
    with BuildSketch(Plane(origin=(133.35, 0, 0), x_dir=(0, 0, -1), z_dir=(1, 0, 0)), mode=Mode.PRIVATE) as cut_extrude10_sk2:
        with Locations(Location((2.577709478, 44.45, 0), (0, 0, 90))):
            Circle(SKETCH16_R)
    cut_extrude10_tool2 = extrude(cut_extrude10_sk2.sketch, amount=-CUT_EXTRUDE10_REACH, mode=Mode.PRIVATE) & part.part
    # Sketch16 → Cut-Extrude10 (cut, up to next)
    with BuildSketch(Plane(origin=(133.35, 0, 0), x_dir=(0, 0, -1), z_dir=(1, 0, 0)), mode=Mode.PRIVATE) as cut_extrude10_sk3:
        with Locations(Location((39.407709478, -44.45, 0), (0, 0, 90))):
            Circle(SKETCH16_R_2)
    cut_extrude10_tool3 = extrude(cut_extrude10_sk3.sketch, amount=-CUT_EXTRUDE10_REACH, mode=Mode.PRIVATE) & part.part
    # Sketch16 → Cut-Extrude10 (cut, up to next)
    with BuildSketch(Plane(origin=(133.35, 0, 0), x_dir=(0, 0, -1), z_dir=(1, 0, 0)), mode=Mode.PRIVATE) as cut_extrude10_sk4:
        with Locations(Location((2.577709478, -44.45, 0), (0, 0, 90))):
            Circle(SKETCH16_R)
    cut_extrude10_tool4 = extrude(cut_extrude10_sk4.sketch, amount=-CUT_EXTRUDE10_REACH, mode=Mode.PRIVATE) & part.part
    add(cut_extrude10_tool1.solids().sort_by_distance((133.35, 44.45, -39.407709))[0], mode=Mode.SUBTRACT)
    add(cut_extrude10_tool2.solids().sort_by_distance((133.35, 44.45, -2.577709))[0], mode=Mode.SUBTRACT)
    add(cut_extrude10_tool3.solids().sort_by_distance((133.35, -44.45, -39.407709))[0], mode=Mode.SUBTRACT)
    add(cut_extrude10_tool4.solids().sort_by_distance((133.35, -44.45, -2.577709))[0], mode=Mode.SUBTRACT)

    # Sketch17 → Cut-Extrude11 (cut, up to next)
    with BuildSketch(Plane(origin=(0, 0, 0), x_dir=(-1, 0, 0), z_dir=(0, 0, -1)), mode=Mode.PRIVATE) as cut_extrude11_sk1:
        with Locations((-89.135691587, 41.019672651)):
            Circle(SKETCH17_R)
    cut_extrude11_tool1 = extrude(cut_extrude11_sk1.sketch, amount=-CUT_EXTRUDE11_REACH, mode=Mode.PRIVATE) & part.part
    # Sketch17 → Cut-Extrude11 (cut, up to next)
    with BuildSketch(Plane(origin=(0, 0, 0), x_dir=(-1, 0, 0), z_dir=(0, 0, -1)), mode=Mode.PRIVATE) as cut_extrude11_sk2:
        with Locations((-32.954133945, 41.019672651)):
            Circle(SKETCH17_R_2)
    cut_extrude11_tool2 = extrude(cut_extrude11_sk2.sketch, amount=-CUT_EXTRUDE11_REACH, mode=Mode.PRIVATE) & part.part
    # Sketch17 → Cut-Extrude11 (cut, up to next)
    with BuildSketch(Plane(origin=(0, 0, 0), x_dir=(-1, 0, 0), z_dir=(0, 0, -1)), mode=Mode.PRIVATE) as cut_extrude11_sk3:
        with Locations((-60.849662348, 11.984663425)):
            Circle(SKETCH17_R)
    cut_extrude11_tool3 = extrude(cut_extrude11_sk3.sketch, amount=-CUT_EXTRUDE11_REACH, mode=Mode.PRIVATE) & part.part
    # Sketch17 → Cut-Extrude11 (cut, up to next)
    with BuildSketch(Plane(origin=(0, 0, 0), x_dir=(-1, 0, 0), z_dir=(0, 0, -1)), mode=Mode.PRIVATE) as cut_extrude11_sk4:
        with Locations((-60.849662348, -7.645160574)):
            Circle(SKETCH17_R_2)
    cut_extrude11_tool4 = extrude(cut_extrude11_sk4.sketch, amount=-CUT_EXTRUDE11_REACH, mode=Mode.PRIVATE) & part.part
    # Sketch17 → Cut-Extrude11 (cut, up to next)
    with BuildSketch(Plane(origin=(0, 0, 0), x_dir=(-1, 0, 0), z_dir=(0, 0, -1)), mode=Mode.PRIVATE) as cut_extrude11_sk5:
        with Locations((-32.954133945, -35.676004446)):
            Circle(SKETCH17_R_2)
    cut_extrude11_tool5 = extrude(cut_extrude11_sk5.sketch, amount=-CUT_EXTRUDE11_REACH, mode=Mode.PRIVATE) & part.part
    # Sketch17 → Cut-Extrude11 (cut, up to next)
    with BuildSketch(Plane(origin=(0, 0, 0), x_dir=(-1, 0, 0), z_dir=(0, 0, -1)), mode=Mode.PRIVATE) as cut_extrude11_sk6:
        with Locations((-88.211720827, -35.676004446)):
            Circle(SKETCH17_R_2)
    cut_extrude11_tool6 = extrude(cut_extrude11_sk6.sketch, amount=-CUT_EXTRUDE11_REACH, mode=Mode.PRIVATE) & part.part
    add(cut_extrude11_tool1.solids().sort_by_distance((89.135692, 41.019673, 0))[0], mode=Mode.SUBTRACT)
    add(cut_extrude11_tool2.solids().sort_by_distance((32.954134, 41.019673, 0))[0], mode=Mode.SUBTRACT)
    add(cut_extrude11_tool3.solids().sort_by_distance((60.849662, 11.984663, 0))[0], mode=Mode.SUBTRACT)
    add(cut_extrude11_tool4.solids().sort_by_distance((60.849662, -7.645161, 0))[0], mode=Mode.SUBTRACT)
    add(cut_extrude11_tool5.solids().sort_by_distance((32.954134, -35.676004, 0))[0], mode=Mode.SUBTRACT)
    add(cut_extrude11_tool6.solids().sort_by_distance((88.211721, -35.676004, 0))[0], mode=Mode.SUBTRACT)


solid = part.part
